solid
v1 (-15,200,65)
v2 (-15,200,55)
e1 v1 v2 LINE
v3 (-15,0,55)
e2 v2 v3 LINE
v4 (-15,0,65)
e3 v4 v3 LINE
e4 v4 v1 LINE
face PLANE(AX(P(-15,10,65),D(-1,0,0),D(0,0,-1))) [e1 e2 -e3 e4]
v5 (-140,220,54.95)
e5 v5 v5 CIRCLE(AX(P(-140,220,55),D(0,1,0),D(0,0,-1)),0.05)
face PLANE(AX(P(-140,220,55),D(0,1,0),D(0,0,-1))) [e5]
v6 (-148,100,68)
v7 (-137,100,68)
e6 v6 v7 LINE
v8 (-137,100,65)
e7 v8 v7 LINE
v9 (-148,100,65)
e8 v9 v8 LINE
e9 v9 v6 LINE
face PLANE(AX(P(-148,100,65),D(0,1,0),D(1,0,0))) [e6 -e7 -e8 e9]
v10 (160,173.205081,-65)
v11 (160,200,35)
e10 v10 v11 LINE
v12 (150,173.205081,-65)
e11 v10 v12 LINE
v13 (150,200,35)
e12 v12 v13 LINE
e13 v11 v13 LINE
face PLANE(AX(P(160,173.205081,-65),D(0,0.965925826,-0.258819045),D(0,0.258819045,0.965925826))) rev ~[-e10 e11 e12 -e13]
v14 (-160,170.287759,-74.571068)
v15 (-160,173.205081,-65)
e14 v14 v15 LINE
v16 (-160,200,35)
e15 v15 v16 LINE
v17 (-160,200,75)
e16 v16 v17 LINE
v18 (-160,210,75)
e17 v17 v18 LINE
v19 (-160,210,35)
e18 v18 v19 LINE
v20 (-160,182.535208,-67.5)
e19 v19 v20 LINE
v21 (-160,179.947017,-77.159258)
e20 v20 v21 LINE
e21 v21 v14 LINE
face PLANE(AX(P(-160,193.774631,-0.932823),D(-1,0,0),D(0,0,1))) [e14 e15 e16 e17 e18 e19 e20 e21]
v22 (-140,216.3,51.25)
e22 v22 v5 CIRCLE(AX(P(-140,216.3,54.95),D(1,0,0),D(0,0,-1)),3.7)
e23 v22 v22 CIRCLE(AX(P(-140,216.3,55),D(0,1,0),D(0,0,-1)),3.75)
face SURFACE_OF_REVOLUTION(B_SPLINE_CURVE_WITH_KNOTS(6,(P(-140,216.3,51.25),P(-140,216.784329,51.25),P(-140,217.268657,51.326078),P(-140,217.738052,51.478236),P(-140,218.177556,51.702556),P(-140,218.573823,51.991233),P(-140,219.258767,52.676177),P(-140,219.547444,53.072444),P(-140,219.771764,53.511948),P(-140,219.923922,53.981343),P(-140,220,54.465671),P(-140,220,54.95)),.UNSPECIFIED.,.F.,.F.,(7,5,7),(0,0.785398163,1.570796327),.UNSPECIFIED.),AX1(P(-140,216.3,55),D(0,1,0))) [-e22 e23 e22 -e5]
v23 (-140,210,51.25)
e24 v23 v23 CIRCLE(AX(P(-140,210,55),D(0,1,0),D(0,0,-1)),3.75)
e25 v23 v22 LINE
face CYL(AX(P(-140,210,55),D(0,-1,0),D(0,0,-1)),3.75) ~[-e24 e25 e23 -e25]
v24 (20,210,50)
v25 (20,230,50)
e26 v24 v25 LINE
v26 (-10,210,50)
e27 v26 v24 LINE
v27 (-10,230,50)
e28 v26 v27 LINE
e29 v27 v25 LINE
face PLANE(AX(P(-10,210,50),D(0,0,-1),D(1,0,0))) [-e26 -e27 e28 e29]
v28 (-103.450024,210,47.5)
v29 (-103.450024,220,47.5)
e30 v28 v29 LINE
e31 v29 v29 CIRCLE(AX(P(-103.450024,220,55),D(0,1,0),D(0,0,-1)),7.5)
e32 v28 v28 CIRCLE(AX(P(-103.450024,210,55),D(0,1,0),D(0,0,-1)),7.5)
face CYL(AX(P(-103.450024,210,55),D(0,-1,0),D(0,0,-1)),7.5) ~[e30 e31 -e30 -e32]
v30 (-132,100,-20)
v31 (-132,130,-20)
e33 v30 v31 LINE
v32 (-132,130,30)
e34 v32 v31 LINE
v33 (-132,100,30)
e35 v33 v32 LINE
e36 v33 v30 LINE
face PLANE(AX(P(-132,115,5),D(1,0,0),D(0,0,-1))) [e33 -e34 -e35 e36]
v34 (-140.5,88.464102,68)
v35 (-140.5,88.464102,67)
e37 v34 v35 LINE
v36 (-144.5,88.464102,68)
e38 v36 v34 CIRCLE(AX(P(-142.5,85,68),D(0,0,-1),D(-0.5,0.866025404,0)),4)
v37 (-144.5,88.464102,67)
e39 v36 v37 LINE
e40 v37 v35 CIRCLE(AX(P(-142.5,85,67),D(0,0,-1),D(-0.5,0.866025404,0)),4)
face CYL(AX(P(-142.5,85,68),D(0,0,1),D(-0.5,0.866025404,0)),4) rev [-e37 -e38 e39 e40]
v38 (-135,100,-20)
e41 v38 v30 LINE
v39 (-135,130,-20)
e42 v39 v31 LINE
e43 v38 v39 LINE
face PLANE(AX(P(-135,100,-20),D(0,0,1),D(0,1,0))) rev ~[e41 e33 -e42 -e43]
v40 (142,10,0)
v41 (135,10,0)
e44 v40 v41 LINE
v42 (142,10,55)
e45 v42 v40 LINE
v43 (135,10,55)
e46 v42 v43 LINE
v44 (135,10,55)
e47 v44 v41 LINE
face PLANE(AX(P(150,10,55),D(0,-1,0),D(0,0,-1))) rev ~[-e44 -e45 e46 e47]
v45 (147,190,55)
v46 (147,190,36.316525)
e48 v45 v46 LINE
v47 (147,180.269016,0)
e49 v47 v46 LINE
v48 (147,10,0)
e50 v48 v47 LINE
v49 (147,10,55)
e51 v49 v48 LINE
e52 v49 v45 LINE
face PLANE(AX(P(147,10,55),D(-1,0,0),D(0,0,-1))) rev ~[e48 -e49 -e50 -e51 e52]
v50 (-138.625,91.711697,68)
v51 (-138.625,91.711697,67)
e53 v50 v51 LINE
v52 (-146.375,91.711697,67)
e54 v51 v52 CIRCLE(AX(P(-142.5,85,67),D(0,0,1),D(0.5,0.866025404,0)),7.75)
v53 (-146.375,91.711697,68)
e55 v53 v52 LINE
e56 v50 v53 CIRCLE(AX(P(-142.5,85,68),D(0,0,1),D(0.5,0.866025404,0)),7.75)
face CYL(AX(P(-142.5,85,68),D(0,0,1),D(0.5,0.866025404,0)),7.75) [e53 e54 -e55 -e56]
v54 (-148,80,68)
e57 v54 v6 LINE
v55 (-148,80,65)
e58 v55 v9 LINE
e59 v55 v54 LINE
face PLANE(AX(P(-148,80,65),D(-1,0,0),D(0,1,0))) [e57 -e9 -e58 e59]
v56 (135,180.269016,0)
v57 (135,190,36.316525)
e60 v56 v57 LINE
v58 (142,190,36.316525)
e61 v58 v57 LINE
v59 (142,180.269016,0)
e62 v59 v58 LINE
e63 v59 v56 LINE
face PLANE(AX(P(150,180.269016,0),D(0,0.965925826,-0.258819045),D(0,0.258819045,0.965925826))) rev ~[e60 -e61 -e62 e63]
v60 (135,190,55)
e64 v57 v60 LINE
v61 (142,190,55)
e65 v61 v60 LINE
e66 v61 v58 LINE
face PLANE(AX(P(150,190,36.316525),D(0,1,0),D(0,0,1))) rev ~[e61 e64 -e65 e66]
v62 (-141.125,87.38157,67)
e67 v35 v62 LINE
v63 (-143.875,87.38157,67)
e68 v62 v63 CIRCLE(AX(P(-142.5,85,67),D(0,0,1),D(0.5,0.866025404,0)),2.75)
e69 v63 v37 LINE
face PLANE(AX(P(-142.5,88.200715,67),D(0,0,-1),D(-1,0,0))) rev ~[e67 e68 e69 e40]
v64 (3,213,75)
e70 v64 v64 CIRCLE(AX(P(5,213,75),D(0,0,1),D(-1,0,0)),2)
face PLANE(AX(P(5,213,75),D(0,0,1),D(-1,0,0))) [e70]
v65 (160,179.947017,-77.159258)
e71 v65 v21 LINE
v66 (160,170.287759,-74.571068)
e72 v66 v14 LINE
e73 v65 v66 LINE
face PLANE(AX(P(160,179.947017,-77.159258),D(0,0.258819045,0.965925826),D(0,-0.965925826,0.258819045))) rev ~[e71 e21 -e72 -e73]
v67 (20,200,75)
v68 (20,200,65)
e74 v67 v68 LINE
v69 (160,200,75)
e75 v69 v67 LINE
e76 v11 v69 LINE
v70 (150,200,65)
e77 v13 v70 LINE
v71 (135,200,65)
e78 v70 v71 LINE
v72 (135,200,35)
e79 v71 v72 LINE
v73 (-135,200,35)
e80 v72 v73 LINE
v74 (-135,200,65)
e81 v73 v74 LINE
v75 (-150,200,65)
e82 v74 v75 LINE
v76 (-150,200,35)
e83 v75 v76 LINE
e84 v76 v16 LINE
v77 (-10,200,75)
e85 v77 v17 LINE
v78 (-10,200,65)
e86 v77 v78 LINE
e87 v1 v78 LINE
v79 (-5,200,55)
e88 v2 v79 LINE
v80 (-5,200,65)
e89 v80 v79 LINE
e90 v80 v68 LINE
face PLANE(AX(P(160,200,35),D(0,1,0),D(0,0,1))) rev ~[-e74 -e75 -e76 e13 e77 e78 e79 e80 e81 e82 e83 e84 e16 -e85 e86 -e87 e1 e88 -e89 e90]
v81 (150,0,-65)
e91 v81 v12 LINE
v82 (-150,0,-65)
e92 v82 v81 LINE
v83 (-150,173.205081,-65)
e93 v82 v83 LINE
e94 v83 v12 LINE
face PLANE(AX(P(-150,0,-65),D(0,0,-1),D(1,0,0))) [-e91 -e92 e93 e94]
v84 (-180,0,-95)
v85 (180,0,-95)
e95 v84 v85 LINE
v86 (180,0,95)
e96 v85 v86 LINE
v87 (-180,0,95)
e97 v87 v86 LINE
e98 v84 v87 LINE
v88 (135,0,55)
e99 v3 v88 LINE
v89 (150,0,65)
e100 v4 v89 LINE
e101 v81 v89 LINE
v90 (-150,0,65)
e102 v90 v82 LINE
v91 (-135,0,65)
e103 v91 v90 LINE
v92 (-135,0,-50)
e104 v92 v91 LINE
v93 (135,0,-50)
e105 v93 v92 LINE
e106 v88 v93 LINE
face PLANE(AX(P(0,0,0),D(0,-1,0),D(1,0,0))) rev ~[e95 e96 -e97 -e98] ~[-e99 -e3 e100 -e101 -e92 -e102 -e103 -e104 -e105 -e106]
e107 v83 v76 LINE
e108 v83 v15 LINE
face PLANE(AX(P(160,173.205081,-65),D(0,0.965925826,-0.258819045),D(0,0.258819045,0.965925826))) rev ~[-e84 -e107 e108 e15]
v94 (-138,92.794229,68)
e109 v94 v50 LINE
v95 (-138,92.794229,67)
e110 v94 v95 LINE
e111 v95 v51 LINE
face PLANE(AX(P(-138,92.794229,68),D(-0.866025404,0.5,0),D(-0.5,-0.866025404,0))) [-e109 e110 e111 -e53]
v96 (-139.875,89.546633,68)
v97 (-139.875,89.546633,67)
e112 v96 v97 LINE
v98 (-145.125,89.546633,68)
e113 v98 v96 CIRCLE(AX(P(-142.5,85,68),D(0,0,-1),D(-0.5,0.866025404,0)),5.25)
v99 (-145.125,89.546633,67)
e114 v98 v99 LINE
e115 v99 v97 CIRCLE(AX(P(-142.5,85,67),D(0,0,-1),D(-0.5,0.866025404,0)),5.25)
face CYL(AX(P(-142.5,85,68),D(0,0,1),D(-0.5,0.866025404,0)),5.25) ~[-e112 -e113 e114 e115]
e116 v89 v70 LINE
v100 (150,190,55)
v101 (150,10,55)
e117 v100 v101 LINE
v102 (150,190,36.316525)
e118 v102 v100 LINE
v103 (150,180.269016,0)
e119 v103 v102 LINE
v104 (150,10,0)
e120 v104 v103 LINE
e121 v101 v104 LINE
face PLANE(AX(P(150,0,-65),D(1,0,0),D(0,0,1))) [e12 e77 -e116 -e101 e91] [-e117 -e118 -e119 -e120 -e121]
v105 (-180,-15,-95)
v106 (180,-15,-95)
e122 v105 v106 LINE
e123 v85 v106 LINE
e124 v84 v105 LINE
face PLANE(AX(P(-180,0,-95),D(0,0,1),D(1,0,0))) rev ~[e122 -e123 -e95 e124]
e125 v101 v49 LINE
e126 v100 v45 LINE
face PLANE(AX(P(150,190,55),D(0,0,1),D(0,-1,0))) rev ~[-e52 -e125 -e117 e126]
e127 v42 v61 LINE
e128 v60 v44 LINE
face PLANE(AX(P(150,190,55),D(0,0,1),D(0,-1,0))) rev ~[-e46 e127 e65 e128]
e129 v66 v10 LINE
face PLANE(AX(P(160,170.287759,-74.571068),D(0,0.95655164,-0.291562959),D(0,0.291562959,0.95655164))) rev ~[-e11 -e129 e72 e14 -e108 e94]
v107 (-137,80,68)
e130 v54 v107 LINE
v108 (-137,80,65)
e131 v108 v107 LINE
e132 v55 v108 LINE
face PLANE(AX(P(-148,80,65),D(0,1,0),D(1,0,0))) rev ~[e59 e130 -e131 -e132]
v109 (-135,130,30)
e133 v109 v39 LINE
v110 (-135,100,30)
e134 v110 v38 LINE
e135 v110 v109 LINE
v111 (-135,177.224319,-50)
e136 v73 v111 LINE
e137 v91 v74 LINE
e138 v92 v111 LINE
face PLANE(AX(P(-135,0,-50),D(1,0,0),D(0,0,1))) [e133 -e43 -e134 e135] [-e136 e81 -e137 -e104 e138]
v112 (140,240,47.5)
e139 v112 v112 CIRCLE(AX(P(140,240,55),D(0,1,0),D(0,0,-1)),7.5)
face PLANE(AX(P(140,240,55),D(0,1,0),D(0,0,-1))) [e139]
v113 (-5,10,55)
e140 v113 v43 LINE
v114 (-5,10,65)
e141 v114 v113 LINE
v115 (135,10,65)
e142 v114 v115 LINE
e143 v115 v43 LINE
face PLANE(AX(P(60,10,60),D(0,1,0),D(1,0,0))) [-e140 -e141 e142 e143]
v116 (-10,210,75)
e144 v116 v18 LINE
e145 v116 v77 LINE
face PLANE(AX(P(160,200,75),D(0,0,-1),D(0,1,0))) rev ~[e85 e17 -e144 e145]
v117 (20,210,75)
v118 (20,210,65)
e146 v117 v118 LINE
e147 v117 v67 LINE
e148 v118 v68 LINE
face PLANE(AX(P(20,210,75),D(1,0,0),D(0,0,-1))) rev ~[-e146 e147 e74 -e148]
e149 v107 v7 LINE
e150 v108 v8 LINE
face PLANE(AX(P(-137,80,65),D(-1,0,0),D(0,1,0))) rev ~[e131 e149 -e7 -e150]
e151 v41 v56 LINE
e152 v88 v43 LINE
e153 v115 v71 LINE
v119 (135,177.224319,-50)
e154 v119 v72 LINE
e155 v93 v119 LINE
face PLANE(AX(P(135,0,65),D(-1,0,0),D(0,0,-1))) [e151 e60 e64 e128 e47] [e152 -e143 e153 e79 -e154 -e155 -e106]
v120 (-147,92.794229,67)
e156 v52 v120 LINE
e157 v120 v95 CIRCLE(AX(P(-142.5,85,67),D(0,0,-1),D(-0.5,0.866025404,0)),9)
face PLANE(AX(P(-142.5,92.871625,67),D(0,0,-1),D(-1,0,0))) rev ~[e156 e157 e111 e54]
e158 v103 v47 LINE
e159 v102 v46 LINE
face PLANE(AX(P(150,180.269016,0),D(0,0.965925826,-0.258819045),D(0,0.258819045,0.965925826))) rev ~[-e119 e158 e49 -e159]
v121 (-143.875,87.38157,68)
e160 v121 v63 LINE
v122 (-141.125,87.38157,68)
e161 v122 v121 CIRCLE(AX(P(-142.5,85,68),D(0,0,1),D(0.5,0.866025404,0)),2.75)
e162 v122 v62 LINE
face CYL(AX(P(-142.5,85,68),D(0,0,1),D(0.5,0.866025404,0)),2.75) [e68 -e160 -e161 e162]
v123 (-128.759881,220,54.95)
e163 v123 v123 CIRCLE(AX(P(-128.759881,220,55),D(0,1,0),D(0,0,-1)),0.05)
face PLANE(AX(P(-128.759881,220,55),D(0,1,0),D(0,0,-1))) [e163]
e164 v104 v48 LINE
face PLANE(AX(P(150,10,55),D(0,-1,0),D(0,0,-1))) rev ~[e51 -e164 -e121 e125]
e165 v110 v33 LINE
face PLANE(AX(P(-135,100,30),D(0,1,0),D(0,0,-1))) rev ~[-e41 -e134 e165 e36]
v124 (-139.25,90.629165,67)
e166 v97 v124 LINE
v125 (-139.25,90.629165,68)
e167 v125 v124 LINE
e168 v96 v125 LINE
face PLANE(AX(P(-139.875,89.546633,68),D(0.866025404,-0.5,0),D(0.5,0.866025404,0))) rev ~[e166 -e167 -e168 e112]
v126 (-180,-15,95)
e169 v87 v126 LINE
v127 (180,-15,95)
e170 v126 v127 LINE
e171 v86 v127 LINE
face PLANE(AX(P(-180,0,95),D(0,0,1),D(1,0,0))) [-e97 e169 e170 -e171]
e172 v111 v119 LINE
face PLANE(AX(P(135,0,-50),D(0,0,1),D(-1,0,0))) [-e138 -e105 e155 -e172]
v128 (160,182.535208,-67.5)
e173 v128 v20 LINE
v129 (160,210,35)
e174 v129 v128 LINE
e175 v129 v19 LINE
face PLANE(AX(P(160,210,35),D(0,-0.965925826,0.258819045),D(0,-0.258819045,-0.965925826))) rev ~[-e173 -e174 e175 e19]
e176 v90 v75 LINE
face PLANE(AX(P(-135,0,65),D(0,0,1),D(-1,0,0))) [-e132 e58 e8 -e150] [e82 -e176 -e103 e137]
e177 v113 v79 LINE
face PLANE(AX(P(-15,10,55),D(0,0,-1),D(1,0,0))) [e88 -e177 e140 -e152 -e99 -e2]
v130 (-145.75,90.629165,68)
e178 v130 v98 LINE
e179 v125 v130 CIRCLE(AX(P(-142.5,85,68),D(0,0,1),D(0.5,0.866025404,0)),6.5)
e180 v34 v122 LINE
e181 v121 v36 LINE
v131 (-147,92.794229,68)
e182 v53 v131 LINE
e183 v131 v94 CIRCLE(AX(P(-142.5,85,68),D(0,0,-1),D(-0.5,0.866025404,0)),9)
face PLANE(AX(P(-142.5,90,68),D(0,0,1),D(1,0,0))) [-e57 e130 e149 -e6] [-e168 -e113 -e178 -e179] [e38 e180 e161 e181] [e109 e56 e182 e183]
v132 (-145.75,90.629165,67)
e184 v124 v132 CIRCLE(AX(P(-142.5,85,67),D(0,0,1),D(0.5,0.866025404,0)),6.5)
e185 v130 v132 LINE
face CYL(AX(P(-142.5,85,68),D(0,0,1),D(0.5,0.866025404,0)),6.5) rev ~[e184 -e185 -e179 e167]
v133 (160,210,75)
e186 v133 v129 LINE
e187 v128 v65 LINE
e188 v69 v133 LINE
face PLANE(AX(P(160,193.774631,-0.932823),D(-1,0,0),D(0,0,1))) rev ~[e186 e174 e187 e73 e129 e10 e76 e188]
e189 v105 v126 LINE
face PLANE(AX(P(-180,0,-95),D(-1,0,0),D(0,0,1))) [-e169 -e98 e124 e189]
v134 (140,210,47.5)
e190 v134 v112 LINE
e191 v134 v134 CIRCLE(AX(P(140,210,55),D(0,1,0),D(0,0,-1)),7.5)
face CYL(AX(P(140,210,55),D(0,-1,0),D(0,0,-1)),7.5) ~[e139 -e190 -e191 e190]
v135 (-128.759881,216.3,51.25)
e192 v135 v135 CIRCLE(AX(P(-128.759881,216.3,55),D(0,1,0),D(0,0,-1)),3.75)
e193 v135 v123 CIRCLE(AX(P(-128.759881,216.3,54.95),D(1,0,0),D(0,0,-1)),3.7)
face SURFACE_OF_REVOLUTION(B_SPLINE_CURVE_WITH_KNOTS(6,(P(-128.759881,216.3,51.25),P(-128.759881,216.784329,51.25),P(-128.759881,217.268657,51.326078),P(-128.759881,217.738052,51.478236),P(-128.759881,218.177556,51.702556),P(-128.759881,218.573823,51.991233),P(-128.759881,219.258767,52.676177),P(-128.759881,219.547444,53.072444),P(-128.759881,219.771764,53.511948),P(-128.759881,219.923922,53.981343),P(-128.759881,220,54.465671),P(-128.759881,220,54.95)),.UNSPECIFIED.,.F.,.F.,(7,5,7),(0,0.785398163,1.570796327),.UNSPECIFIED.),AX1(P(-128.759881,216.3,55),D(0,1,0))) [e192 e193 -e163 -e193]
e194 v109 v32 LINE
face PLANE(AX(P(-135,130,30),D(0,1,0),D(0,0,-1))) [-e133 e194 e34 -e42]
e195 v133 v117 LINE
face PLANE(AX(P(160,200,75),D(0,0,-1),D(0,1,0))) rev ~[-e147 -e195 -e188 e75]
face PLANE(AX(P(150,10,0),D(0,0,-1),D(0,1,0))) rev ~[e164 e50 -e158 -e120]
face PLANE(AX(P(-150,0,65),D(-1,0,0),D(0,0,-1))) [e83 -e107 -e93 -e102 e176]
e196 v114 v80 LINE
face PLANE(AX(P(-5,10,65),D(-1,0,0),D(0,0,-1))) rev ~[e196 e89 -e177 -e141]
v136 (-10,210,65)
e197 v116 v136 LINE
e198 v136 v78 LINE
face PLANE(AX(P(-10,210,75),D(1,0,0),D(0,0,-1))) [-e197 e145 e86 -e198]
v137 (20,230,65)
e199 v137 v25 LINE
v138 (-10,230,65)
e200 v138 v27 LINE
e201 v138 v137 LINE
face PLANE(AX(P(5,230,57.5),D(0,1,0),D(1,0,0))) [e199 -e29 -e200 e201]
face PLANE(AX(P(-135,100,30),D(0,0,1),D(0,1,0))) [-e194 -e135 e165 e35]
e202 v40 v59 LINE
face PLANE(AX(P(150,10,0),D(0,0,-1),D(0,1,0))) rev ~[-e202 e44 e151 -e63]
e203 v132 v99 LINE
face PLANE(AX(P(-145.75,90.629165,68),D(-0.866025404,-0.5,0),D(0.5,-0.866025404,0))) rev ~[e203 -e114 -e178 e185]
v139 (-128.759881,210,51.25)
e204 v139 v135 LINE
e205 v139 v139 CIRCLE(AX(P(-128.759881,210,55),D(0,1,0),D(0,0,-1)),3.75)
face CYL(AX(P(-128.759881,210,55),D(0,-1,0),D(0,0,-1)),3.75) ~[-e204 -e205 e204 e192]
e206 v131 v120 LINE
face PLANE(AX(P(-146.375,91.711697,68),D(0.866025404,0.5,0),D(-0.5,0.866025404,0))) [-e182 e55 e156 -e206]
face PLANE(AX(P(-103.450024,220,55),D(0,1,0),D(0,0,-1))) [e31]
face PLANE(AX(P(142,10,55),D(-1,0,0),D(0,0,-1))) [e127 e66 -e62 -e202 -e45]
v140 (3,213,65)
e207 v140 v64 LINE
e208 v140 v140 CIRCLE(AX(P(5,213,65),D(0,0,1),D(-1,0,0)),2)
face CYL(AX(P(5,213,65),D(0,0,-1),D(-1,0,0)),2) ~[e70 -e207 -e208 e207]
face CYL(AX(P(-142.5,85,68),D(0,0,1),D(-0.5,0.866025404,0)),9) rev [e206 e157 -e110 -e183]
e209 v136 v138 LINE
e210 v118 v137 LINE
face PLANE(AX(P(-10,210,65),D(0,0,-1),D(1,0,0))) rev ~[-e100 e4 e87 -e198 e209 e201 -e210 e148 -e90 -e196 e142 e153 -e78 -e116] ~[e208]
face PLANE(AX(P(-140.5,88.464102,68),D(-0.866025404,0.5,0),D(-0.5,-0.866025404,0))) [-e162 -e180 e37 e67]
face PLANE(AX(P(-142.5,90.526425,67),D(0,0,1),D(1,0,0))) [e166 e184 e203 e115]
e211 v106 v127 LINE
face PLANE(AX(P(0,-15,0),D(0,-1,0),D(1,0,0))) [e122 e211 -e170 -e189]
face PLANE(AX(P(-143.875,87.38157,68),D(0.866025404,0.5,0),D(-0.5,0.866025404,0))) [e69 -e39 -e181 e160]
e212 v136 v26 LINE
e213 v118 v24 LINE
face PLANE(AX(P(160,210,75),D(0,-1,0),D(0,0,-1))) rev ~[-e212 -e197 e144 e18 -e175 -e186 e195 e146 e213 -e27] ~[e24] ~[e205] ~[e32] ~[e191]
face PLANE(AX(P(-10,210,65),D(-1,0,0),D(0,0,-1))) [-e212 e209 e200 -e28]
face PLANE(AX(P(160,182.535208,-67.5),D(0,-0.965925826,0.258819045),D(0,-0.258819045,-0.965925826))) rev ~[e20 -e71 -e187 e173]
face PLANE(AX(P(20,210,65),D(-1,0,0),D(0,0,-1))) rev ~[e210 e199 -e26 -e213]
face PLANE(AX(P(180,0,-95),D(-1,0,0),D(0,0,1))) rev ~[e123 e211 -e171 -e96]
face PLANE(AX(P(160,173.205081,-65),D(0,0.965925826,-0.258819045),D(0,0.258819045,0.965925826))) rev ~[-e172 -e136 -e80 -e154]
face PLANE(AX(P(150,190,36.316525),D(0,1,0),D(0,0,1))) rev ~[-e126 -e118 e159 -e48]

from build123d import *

# Parameters (mm, degrees)
SALIENTE_EXTRUIR11_DEPTH      = 200
CORTAR_EXTRUIR10_DEPTH        = 300
SALIENTE_EXTRUIR12_DEPTH      = 10
SALIENTE_EXTRUIR12_DEPTH_BACK = 310
CROQUIS30_W                   = 360
CROQUIS30_H                   = 190
SALIENTE_EXTRUIR13_DEPTH      = 15
CORTAR_EXTRUIR11_DEPTH        = 15
CROQUIS32_W                   = 5
CROQUIS32_H                   = 55
SALIENTE_EXTRUIR14_DEPTH      = 180
CROQUIS35_W                   = 11
CROQUIS35_H                   = 20
SALIENTE_EXTRUIR15_DEPTH      = 3
CORTAR_EXTRUIR12_DEPTH        = 1
CROQUIS40_W                   = 150
CROQUIS40_H                   = 10
SALIENTE_EXTRUIR16_DEPTH      = 10
CROQUIS41_W                   = 10
CROQUIS41_H                   = 10
SALIENTE_EXTRUIR17_DEPTH      = 190
CROQUIS42_W                   = 50
CROQUIS42_H                   = 30
SALIENTE_EXTRUIR18_DEPTH      = 3
CROQUIS43_W                   = 30
CROQUIS43_H                   = 10
CORTAR_EXTRUIR13_DEPTH        = 10
CROQUIS44_R                   = 7.5
SALIENTE_EXTRUIR19_DEPTH      = 30
CROQUIS45_W                   = 30
CROQUIS45_H                   = 15
SALIENTE_EXTRUIR20_DEPTH      = 20
CROQUIS47_R                   = 2
SALIENTE_EXTRUIR21_DEPTH      = 10
CORTAR_EXTRUIR14_START        = -10
CROQUIS49_R                   = 2
CORTAR_EXTRUIR14_DEPTH        = 10
CROQUIS50_R                   = 2
SALIENTE_EXTRUIR22_DEPTH      = 10
CROQUIS52_R                   = 3.75
SALIENTE_EXTRUIR29_DEPTH      = 10
REDONDEO6_R                   = 3.7
CROQUIS53_R                   = 7.5
SALIENTE_EXTRUIR30_DEPTH      = 10


with BuildPart() as part:
    # Croquis4 → Saliente-Extruir11 (new body)
    with BuildSketch(Plane(origin=(0, 0, 0), x_dir=(1, 0, 0), z_dir=(0, 1, 0))):
        Polygon((-150, 65), (150, 65), (150, -65), (135, -65), (135, 50), (-135, 50), (-135, -65), (-150, -65), align=None)
    extrude(amount=SALIENTE_EXTRUIR11_DEPTH)

    # Croquis28 → Cortar-Extruir10 (cut)
    with BuildSketch(Plane.ZY.offset(150)):
        Polygon((-65, 173.205080757), (35, 200), (-65, 200), align=None)
    extrude(amount=-CORTAR_EXTRUIR10_DEPTH, mode=Mode.SUBTRACT)

    # Croquis29 → Saliente-Extruir12 (add, two sides: drawn at the far end of the back side and taken through both)
    with BuildSketch(Plane.ZY.offset(150).offset(-SALIENTE_EXTRUIR12_DEPTH_BACK)):
        Polygon((-65, 173.205080757), (35, 200), (65, 200), (75, 200), (75, 210), (35, 210), (-67.5, 182.535207776), (-77.159258263, 179.947017325), (-74.571067812, 170.287759062), align=None)
    extrude(amount=SALIENTE_EXTRUIR12_DEPTH + SALIENTE_EXTRUIR12_DEPTH_BACK)

    # Croquis30 → Saliente-Extruir13 (add)
    with BuildSketch(Plane.XZ):
        Rectangle(CROQUIS30_W, CROQUIS30_H)
    extrude(amount=SALIENTE_EXTRUIR13_DEPTH)

    # Croquis31 → Cortar-Extruir11 (cut)
    with BuildSketch(Plane(origin=(150, 0, 0), x_dir=(0, 0, -1), z_dir=(1, 0, 0))):
        Polygon((-55, 190), (-55, 10), (0, 10), (0, 180.269016461), (-36.316524976, 190), align=None)
    extrude(amount=-CORTAR_EXTRUIR11_DEPTH, mode=Mode.SUBTRACT)

    # Croquis32 → Saliente-Extruir14 (add)
    with BuildSketch(Plane(origin=(0, 10, 0), x_dir=(1, 0, 0), z_dir=(0, 1, 0))):
        with Locations((144.5, -27.5)):
            Rectangle(CROQUIS32_W, CROQUIS32_H)
    extrude(amount=SALIENTE_EXTRUIR14_DEPTH)

    # Croquis35 → Saliente-Extruir15 (add)
    with BuildSketch(Plane.XY.offset(65)):
        with Locations((-142.5, 90)):
            Rectangle(CROQUIS35_W, CROQUIS35_H)
    extrude(amount=SALIENTE_EXTRUIR15_DEPTH)

    # Croquis36 → Cortar-Extruir12 (cut)
    with BuildSketch(Plane.XY.offset(68)):
        with BuildLine():
            Line((-143.875, 87.38156986), (-144.5, 88.464101615))
            ThreePointArc((-144.5, 88.464101615), (-142.5, 89), (-140.5, 88.464101615))
            Line((-140.5, 88.464101615), (-141.125, 87.38156986))
            ThreePointArc((-141.125, 87.38156986), (-142.5, 87.75), (-143.875, 87.38156986))
        make_face()
        with BuildLine():
            Line((-139.875, 89.54663337), (-139.25, 90.629165125))
            ThreePointArc((-139.25, 90.629165125), (-142.5, 91.5), (-145.75, 90.629165125))
            Line((-145.75, 90.629165125), (-145.125, 89.54663337))
            ThreePointArc((-145.125, 89.54663337), (-142.5, 90.25), (-139.875, 89.54663337))
        make_face()
        with BuildLine():
            Line((-146.375, 91.711696879), (-147, 92.794228634))
            ThreePointArc((-147, 92.794228634), (-142.5, 94), (-138, 92.794228634))
            Line((-138, 92.794228634), (-138.625, 91.711696879))
            ThreePointArc((-138.625, 91.711696879), (-142.5, 92.75), (-146.375, 91.711696879))
        make_face()
    extrude(amount=-CORTAR_EXTRUIR12_DEPTH, mode=Mode.SUBTRACT)

    # Croquis40 → Saliente-Extruir16 (add)
    with BuildSketch(Plane(origin=(0, 0, 0), x_dir=(1, 0, 0), z_dir=(0, 1, 0))):
        with Locations((60, -60)):
            Rectangle(CROQUIS40_W, CROQUIS40_H)
    extrude(amount=SALIENTE_EXTRUIR16_DEPTH)

    # Croquis41 → Saliente-Extruir17 (add)
    with BuildSketch(Plane(origin=(0, 10, 0), x_dir=(1, 0, 0), z_dir=(0, 1, 0))):
        with Locations((-10, -60)):
            Rectangle(CROQUIS41_W, CROQUIS41_H)
    extrude(amount=SALIENTE_EXTRUIR17_DEPTH)

    # Croquis42 → Saliente-Extruir18 (add)
    with BuildSketch(Plane(origin=(-135, 0, 0), x_dir=(0, 0, -1), z_dir=(1, 0, 0))):
        with Locations((-5, 115)):
            Rectangle(CROQUIS42_W, CROQUIS42_H)
    extrude(amount=SALIENTE_EXTRUIR18_DEPTH)

    # Croquis43 → Cortar-Extruir13 (cut)
    with BuildSketch(Plane(origin=(0, 210, 0), x_dir=(1, 0, 0), z_dir=(0, 1, 0))):
        with Locations((5, -70)):
            Rectangle(CROQUIS43_W, CROQUIS43_H)
    extrude(amount=-CORTAR_EXTRUIR13_DEPTH, mode=Mode.SUBTRACT)

    # Croquis44 → Saliente-Extruir19 (add)
    with BuildSketch(Plane(origin=(0, 210, 0), x_dir=(1, 0, 0), z_dir=(0, 1, 0))):
        with Locations(Location((140, -55, 0), (0, 0, 90))):
            Circle(CROQUIS44_R)
    extrude(amount=SALIENTE_EXTRUIR19_DEPTH)

    # Croquis45 → Saliente-Extruir20 (add)
    with BuildSketch(Plane(origin=(0, 210, 0), x_dir=(1, 0, 0), z_dir=(0, 1, 0))):
        with Locations((5, -57.5)):
            Rectangle(CROQUIS45_W, CROQUIS45_H)
    extrude(amount=SALIENTE_EXTRUIR20_DEPTH)

    # Croquis47 → Saliente-Extruir21 (add)
    with BuildSketch(Plane.XY.offset(65)):
        with Locations(Location((5, 215, 0), (0, 0, 180))):
            Circle(CROQUIS47_R)
    extrude(amount=SALIENTE_EXTRUIR21_DEPTH)

    # Croquis49 → Cortar-Extruir14 (cut)
    with BuildSketch(Plane.XY.offset(75).offset(CORTAR_EXTRUIR14_START)):
        with Locations((5, 215)):
            Circle(CROQUIS49_R)
    extrude(amount=CORTAR_EXTRUIR14_DEPTH, mode=Mode.SUBTRACT)

    # Croquis50 → Saliente-Extruir22 (add)
    with BuildSketch(Plane.XY.offset(65)):
        with Locations(Location((5, 213, 0), (0, 0, 180))):
            Circle(CROQUIS50_R)
    extrude(amount=SALIENTE_EXTRUIR22_DEPTH)

    # Croquis52 → Saliente-Extruir29 (add)
    with BuildSketch(Plane(origin=(0, 210, 0), x_dir=(1, 0, 0), z_dir=(0, 1, 0))):
        with Locations(Location((-140, -55, 0), (0, 0, 90))):
            Circle(CROQUIS52_R)
        with Locations(Location((-128.75988107, -55, 0), (0, 0, 90))):
            Circle(CROQUIS52_R)
    extrude(amount=SALIENTE_EXTRUIR29_DEPTH)

    # Redondeo6
    redondeo6_edges = [part.edges().sort_by_distance(p)[0] for p in [
        (-140, 220, 58.75),
        (-128.75988107, 220, 58.75),
    ]]
    fillet(redondeo6_edges, radius=REDONDEO6_R)

    # Croquis53 → Saliente-Extruir30 (add)
    with BuildSketch(Plane(origin=(0, 210, 0), x_dir=(1, 0, 0), z_dir=(0, 1, 0))):
        with Locations(Location((-103.450024464, -55, 0), (0, 0, 90))):
            Circle(CROQUIS53_R)
    extrude(amount=SALIENTE_EXTRUIR30_DEPTH)


solid = part.part
